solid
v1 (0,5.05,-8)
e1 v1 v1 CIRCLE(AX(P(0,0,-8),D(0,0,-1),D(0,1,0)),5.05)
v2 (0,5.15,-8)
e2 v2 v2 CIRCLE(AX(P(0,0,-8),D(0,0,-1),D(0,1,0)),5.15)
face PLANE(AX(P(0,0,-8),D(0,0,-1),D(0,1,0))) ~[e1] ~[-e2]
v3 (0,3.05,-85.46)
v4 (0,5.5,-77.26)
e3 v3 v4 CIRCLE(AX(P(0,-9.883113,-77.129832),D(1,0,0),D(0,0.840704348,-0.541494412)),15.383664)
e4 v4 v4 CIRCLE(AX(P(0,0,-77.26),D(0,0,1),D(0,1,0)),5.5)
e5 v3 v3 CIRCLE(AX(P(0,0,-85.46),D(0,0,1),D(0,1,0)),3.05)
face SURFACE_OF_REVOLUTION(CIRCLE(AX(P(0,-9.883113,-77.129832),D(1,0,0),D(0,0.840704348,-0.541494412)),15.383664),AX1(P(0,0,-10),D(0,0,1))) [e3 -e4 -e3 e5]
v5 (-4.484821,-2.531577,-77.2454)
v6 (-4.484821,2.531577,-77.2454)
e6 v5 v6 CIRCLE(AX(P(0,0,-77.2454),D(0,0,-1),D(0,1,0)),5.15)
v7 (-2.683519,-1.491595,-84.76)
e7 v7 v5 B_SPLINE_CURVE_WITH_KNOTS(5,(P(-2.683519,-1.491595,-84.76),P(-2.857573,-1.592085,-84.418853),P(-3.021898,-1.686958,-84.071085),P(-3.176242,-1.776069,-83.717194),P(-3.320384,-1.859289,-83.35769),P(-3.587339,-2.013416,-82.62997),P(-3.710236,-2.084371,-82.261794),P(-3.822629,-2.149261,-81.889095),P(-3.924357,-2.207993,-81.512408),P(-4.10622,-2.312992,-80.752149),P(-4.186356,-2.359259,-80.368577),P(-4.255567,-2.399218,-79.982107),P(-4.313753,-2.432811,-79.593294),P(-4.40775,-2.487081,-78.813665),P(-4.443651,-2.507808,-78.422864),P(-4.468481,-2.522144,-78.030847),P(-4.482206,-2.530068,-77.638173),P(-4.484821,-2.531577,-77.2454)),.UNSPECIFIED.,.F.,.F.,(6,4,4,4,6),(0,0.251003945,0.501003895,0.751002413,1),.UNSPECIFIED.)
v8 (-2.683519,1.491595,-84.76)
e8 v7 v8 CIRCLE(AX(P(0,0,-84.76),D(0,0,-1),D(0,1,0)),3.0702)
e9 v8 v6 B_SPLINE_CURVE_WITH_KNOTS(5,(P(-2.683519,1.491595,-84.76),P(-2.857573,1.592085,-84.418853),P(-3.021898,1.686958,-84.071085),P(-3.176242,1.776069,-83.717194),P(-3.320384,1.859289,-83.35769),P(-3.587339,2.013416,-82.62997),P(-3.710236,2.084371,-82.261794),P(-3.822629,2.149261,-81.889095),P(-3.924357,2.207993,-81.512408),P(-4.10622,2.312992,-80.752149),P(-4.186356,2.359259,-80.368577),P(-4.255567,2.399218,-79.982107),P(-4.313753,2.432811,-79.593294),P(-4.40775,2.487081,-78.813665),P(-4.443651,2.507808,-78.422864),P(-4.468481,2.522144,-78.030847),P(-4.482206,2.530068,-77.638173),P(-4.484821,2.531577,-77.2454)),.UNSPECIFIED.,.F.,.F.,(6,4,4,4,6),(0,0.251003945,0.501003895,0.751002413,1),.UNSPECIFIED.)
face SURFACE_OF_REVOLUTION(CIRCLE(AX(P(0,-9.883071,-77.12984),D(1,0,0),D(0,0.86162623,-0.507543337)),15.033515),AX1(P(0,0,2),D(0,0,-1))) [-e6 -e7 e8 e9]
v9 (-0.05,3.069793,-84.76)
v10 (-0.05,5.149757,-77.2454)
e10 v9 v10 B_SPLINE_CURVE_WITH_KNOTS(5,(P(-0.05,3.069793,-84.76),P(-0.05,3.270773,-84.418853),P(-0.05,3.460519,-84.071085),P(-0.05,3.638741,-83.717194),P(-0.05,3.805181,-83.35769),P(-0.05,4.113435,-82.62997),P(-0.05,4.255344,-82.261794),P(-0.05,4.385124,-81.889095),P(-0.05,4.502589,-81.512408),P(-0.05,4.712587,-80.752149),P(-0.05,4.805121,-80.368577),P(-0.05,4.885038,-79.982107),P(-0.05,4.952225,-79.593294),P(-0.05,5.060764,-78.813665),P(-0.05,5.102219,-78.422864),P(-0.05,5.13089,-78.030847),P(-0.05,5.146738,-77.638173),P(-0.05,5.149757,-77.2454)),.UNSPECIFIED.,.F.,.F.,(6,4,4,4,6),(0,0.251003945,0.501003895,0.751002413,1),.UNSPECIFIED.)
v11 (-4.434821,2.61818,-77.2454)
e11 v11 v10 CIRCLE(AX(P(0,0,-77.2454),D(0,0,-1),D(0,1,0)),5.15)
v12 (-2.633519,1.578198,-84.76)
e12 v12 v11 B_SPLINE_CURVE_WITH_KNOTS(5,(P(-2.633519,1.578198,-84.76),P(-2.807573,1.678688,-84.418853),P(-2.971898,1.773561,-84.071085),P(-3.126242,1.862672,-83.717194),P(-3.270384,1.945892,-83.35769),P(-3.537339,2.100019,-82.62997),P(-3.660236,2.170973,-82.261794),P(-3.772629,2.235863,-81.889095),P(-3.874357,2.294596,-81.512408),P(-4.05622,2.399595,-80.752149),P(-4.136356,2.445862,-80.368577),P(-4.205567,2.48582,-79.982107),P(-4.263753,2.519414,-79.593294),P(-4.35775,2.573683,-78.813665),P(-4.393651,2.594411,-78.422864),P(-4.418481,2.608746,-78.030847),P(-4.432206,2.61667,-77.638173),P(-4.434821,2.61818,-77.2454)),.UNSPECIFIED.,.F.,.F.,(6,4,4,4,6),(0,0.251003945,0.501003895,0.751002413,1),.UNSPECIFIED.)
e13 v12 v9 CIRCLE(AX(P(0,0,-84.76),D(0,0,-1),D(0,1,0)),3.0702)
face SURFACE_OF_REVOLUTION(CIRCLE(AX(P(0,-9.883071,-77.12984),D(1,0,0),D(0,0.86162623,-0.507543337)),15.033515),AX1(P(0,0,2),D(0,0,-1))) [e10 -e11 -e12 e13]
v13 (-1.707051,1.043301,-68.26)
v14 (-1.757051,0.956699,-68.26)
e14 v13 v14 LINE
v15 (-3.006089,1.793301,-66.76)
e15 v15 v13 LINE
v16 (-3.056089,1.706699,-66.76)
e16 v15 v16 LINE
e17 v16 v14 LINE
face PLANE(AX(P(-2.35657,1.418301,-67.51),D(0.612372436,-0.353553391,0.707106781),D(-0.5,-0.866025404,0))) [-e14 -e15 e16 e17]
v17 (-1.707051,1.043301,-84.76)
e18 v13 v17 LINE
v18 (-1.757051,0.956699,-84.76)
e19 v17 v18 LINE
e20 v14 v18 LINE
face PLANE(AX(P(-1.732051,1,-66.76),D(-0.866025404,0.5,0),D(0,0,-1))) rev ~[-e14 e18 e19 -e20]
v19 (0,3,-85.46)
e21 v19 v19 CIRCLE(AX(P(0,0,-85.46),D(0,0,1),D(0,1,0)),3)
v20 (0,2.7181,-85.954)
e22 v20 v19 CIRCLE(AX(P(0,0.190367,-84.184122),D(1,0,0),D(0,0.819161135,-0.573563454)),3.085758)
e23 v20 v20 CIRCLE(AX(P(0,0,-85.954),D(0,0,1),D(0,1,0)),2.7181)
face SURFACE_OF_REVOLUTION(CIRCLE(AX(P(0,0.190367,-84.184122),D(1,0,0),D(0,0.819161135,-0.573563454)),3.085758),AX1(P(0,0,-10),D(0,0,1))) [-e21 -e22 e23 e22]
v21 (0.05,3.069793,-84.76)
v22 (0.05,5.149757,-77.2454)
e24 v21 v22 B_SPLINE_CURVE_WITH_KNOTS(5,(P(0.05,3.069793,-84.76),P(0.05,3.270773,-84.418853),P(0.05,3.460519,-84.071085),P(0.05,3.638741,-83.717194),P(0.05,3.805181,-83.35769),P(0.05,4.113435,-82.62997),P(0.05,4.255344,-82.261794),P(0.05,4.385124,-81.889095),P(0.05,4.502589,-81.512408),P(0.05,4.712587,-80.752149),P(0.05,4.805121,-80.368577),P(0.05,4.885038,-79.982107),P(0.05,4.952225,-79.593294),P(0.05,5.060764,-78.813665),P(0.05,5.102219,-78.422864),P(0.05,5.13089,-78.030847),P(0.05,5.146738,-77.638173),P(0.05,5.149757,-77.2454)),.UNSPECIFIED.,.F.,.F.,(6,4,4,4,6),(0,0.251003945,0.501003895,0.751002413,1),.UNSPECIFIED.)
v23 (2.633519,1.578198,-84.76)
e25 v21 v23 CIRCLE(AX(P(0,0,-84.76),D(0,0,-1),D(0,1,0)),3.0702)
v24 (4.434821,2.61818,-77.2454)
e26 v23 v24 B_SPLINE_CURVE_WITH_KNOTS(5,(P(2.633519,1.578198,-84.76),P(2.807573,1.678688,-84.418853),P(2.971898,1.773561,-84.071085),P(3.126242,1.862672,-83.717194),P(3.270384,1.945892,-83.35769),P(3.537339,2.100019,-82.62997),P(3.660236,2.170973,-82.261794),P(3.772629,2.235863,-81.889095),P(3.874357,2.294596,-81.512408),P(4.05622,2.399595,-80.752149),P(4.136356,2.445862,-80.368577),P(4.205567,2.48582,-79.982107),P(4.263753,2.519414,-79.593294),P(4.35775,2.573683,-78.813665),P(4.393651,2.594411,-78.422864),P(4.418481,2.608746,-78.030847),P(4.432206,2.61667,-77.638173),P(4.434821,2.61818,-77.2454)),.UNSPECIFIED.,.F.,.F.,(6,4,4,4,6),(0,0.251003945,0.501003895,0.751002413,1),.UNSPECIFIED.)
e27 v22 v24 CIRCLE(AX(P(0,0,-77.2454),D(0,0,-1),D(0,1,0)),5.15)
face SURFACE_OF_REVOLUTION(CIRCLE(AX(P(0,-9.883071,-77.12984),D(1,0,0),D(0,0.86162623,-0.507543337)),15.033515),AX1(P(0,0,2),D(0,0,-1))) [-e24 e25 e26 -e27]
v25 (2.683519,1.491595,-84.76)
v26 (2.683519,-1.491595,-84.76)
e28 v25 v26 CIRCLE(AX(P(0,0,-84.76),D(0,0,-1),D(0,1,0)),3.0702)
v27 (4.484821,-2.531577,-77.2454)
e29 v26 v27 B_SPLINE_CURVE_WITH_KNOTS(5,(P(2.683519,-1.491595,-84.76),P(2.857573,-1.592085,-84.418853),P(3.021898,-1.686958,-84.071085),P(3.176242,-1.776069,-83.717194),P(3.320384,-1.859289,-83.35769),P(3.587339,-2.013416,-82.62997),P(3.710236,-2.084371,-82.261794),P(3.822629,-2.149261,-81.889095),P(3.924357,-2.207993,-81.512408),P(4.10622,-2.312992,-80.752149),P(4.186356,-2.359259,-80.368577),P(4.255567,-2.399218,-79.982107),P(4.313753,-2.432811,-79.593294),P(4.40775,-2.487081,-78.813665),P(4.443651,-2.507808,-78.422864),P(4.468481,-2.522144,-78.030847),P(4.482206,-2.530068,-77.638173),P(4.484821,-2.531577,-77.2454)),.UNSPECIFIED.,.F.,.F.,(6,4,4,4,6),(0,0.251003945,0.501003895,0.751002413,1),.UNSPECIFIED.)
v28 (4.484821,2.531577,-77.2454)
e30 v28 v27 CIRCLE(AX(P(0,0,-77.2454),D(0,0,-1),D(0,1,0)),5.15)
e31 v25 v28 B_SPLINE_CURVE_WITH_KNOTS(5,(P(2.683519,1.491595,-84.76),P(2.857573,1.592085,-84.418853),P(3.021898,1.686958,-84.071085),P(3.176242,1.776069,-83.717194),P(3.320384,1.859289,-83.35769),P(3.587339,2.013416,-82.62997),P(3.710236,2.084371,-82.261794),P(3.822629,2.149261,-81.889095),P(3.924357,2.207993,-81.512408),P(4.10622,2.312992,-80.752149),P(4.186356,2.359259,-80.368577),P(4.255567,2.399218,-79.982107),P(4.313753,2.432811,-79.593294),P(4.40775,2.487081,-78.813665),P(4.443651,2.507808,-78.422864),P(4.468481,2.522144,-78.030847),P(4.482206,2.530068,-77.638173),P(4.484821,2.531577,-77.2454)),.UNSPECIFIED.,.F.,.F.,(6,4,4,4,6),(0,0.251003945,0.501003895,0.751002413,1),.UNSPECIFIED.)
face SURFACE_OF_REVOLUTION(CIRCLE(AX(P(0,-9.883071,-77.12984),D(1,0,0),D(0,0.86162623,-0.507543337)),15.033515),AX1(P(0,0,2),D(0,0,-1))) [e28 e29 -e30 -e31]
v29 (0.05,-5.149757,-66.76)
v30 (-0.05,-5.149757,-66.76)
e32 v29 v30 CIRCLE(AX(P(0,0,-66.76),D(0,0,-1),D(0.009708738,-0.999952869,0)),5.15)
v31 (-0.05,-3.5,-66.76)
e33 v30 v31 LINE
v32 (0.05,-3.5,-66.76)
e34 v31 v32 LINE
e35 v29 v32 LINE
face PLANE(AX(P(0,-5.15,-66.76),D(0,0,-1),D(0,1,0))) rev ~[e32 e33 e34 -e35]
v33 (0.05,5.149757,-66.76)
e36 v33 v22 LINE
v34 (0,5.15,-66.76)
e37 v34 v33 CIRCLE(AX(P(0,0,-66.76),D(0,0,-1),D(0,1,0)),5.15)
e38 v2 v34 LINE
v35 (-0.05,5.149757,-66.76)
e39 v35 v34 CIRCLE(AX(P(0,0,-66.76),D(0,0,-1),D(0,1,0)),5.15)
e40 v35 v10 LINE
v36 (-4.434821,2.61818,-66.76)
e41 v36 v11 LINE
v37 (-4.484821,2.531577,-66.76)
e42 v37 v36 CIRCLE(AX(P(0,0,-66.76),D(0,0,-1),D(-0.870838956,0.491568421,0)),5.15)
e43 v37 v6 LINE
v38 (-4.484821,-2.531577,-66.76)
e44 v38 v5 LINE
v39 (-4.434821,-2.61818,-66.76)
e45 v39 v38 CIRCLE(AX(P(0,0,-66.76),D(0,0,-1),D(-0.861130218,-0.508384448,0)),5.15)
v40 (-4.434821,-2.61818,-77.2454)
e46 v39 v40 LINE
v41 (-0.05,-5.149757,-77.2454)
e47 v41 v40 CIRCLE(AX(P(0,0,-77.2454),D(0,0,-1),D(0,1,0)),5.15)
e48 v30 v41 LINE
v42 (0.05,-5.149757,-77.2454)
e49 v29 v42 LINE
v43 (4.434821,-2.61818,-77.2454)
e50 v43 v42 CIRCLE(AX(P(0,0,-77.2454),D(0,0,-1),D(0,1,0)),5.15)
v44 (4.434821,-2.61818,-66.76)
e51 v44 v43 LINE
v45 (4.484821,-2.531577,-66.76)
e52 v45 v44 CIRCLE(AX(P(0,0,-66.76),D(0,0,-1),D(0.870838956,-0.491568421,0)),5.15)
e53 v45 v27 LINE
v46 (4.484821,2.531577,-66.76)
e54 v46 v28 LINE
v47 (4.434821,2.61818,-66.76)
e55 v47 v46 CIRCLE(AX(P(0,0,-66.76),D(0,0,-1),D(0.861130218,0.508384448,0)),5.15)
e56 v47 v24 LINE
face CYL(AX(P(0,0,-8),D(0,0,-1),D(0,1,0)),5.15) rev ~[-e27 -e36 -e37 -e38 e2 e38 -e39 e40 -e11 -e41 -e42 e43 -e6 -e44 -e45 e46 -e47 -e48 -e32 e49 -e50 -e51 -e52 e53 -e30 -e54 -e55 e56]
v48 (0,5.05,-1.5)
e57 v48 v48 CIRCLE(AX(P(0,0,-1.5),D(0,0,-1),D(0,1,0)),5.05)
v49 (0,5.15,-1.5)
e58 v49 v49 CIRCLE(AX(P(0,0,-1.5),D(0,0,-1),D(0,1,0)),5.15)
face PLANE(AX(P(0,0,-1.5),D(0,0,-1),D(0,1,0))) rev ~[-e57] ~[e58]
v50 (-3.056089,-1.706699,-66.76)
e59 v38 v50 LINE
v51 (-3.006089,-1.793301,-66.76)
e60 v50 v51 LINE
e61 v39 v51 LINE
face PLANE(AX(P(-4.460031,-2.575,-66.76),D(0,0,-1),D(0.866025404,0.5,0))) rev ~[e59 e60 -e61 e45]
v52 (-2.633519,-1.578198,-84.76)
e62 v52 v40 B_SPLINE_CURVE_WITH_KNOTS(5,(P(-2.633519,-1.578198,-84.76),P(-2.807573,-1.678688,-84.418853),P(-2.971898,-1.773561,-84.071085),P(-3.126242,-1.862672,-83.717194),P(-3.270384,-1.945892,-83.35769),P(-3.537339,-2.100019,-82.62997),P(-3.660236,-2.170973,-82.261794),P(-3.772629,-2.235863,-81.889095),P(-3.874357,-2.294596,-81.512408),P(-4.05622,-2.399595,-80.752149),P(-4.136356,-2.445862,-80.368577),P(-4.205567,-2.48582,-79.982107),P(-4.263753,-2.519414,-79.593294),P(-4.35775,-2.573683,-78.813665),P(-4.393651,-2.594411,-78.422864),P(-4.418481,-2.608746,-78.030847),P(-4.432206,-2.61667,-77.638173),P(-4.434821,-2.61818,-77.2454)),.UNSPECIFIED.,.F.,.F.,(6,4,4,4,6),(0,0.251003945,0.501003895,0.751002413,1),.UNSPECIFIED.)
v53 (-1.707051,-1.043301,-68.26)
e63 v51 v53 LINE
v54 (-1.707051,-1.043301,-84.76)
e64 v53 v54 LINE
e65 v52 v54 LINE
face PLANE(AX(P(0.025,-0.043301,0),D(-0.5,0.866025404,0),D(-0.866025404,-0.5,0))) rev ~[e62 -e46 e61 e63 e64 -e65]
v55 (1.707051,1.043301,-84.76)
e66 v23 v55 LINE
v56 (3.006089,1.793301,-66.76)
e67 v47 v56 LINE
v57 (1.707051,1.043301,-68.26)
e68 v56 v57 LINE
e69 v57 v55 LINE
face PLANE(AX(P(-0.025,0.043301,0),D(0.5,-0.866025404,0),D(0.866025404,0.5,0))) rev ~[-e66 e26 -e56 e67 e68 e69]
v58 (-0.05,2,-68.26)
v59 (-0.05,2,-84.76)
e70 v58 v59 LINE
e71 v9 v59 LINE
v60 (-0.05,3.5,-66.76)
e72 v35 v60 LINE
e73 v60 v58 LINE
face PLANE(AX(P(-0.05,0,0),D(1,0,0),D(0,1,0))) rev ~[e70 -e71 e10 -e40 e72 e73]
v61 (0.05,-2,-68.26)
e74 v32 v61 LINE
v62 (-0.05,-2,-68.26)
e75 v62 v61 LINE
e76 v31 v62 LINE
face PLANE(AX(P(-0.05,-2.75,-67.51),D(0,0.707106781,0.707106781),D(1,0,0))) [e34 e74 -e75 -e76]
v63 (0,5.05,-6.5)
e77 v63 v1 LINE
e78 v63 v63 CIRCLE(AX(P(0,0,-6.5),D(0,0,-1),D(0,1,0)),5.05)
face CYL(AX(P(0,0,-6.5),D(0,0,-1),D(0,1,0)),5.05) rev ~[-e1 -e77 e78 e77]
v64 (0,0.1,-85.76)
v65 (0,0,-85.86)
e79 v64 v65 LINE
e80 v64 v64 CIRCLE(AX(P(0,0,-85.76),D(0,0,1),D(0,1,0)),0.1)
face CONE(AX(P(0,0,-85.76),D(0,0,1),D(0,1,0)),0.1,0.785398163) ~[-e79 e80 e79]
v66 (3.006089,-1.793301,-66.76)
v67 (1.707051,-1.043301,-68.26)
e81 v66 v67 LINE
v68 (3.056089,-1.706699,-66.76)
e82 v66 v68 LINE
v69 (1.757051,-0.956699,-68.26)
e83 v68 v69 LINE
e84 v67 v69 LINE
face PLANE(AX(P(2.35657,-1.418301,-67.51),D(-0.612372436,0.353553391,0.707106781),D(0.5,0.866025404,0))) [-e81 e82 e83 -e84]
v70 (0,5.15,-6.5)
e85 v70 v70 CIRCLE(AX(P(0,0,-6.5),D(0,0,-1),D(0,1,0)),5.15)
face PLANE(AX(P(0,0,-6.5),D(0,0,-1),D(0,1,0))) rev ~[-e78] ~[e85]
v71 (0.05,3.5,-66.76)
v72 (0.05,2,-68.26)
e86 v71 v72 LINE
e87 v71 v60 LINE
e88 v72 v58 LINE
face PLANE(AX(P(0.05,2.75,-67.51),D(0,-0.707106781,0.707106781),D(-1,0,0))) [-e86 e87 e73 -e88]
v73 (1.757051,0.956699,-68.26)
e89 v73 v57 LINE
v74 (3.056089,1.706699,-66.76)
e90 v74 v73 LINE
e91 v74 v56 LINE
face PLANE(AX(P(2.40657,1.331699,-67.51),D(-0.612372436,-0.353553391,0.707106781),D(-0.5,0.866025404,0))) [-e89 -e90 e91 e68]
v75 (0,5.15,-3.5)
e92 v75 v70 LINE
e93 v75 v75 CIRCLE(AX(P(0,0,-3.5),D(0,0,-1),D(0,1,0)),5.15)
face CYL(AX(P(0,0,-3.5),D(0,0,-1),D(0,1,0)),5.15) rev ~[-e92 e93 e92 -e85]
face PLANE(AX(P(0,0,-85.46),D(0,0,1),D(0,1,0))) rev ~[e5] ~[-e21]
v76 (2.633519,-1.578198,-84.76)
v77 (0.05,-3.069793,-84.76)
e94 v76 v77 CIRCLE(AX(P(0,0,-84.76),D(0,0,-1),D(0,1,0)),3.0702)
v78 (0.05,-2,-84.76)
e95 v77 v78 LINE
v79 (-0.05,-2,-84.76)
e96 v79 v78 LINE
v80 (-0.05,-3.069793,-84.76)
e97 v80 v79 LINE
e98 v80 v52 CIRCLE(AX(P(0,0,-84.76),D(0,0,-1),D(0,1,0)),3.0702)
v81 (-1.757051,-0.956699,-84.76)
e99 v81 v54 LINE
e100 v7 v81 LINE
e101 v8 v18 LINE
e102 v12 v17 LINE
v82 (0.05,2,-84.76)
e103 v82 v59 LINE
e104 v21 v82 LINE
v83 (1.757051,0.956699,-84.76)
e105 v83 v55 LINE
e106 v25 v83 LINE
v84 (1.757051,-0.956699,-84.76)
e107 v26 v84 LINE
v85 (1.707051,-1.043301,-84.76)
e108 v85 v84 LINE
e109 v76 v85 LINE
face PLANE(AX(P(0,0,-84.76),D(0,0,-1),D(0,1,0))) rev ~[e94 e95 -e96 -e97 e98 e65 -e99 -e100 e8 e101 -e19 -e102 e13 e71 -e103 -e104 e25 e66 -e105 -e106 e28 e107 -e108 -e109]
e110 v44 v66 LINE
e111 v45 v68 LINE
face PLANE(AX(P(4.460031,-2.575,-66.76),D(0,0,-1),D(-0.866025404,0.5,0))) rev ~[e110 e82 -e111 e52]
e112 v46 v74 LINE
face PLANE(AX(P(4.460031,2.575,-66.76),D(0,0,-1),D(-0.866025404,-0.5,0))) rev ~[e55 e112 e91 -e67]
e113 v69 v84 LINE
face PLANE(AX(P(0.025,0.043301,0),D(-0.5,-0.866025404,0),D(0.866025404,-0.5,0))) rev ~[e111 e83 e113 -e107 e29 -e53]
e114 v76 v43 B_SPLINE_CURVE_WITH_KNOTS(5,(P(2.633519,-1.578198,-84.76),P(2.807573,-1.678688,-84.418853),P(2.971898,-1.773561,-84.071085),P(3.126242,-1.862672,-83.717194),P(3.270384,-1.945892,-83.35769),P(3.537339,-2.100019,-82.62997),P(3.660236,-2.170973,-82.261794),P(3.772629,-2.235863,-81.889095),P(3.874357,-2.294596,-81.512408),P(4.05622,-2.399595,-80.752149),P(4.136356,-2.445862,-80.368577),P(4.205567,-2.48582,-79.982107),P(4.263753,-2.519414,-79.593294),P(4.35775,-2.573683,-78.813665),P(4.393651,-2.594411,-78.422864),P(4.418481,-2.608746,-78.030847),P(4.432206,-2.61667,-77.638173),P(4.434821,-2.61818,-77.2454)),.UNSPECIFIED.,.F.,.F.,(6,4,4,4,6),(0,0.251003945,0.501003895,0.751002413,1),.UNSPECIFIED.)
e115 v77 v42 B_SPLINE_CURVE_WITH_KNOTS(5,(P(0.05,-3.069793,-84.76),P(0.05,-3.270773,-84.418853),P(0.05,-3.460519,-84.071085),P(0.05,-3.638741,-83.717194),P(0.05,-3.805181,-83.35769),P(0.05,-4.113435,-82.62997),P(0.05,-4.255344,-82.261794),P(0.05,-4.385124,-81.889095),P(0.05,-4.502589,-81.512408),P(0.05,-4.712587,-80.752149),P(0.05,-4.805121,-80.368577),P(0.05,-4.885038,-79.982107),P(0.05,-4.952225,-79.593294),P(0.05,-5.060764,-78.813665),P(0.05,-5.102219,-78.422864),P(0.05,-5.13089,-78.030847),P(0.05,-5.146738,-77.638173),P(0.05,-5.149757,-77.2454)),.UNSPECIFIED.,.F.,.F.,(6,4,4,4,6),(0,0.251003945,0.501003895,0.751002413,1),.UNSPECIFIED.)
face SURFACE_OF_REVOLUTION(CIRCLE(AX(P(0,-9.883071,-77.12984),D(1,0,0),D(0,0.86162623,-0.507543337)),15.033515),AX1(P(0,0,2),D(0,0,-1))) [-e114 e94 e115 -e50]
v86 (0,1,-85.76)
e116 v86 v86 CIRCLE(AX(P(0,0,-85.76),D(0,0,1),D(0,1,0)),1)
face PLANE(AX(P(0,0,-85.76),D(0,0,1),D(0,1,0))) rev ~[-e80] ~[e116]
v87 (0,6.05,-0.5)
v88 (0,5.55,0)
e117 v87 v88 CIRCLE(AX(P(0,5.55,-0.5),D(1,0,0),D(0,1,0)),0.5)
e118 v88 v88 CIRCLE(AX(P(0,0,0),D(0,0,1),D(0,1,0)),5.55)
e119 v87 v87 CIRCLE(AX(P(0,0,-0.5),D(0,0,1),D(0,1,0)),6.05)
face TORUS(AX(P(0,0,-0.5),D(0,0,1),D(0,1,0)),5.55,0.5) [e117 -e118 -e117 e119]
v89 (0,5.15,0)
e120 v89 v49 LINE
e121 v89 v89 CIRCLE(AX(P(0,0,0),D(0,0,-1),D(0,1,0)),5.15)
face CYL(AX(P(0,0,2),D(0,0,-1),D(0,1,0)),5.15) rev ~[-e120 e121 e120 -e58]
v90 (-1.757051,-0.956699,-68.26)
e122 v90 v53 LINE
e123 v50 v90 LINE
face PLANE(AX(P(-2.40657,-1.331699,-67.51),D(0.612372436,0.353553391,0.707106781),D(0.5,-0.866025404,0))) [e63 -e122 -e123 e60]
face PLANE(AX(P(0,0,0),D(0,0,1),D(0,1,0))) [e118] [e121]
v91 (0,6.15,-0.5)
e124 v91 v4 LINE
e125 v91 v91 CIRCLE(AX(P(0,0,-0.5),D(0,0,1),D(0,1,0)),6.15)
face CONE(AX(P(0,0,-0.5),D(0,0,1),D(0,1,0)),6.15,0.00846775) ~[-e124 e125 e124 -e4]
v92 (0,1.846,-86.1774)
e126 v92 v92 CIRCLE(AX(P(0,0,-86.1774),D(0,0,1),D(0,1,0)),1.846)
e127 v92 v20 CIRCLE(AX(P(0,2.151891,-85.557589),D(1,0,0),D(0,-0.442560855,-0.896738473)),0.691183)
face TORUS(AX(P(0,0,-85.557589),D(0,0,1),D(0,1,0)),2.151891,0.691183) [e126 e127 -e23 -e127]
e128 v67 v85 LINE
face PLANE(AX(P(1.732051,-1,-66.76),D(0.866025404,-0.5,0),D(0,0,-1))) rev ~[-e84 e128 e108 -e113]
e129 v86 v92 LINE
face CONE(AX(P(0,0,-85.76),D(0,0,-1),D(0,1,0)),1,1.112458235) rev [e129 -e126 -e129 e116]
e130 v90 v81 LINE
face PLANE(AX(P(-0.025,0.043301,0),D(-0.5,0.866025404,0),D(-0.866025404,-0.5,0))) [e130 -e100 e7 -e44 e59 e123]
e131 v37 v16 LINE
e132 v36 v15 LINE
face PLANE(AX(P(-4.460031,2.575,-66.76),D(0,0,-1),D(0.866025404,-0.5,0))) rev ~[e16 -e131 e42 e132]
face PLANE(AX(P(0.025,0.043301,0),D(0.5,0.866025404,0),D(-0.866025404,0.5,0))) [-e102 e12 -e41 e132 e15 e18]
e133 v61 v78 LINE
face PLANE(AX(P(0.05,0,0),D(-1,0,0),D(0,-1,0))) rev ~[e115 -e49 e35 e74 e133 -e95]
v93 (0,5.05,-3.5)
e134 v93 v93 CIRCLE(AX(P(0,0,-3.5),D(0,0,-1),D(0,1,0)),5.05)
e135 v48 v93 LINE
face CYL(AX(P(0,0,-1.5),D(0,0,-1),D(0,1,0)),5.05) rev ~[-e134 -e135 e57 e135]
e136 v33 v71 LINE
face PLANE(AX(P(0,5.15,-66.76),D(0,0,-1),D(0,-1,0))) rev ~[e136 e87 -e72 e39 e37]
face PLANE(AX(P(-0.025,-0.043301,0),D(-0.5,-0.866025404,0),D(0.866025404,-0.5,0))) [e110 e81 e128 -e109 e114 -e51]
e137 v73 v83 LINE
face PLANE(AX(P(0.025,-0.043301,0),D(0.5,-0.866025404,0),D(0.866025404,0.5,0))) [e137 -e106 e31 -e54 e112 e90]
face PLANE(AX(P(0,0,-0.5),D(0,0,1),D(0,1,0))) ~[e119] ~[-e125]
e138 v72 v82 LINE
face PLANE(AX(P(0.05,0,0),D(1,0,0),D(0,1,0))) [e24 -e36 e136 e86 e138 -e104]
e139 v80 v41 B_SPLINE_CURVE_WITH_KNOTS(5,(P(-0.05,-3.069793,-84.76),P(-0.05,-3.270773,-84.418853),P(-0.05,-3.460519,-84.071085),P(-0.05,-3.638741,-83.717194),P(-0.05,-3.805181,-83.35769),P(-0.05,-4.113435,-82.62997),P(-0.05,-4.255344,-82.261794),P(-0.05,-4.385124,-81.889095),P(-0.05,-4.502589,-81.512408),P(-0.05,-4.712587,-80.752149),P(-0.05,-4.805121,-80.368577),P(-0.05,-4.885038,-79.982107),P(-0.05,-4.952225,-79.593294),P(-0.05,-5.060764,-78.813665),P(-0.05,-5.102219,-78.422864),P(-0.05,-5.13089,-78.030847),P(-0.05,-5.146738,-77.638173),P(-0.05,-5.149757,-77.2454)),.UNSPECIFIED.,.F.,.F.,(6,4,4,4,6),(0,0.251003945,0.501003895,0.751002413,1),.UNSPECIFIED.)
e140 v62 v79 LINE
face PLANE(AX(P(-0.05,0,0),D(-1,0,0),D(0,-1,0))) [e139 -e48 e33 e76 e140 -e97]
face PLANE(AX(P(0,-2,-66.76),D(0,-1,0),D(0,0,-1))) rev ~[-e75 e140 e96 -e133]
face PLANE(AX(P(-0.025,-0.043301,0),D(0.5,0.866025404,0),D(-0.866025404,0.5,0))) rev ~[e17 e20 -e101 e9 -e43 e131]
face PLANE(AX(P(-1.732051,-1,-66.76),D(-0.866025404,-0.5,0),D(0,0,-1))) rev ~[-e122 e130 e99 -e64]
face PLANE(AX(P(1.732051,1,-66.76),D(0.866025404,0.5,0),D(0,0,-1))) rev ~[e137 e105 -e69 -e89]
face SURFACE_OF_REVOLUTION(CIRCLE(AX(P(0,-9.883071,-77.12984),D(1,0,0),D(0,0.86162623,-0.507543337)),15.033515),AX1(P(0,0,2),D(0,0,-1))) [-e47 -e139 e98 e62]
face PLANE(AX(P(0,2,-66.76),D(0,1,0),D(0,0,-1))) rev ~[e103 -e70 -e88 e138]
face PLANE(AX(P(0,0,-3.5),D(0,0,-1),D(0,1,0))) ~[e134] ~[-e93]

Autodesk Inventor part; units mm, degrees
ref_plane "YZ Plane" through (0, 0, 0) normal (1, 0, 0) x (0, 1, 0)
ref_plane "XZ Plane" through (0, 0, 0) normal (0, 1, 0) x (-1, 0, 0)
ref_plane "XY Plane" through (0, 0, 0) normal (0, 0, 1) x (1, 0, 0)
sketch "Revolution Sketch" plane through (0, 0, 0) normal (1, 0, 0) x (0, 1, 0)
  line L0 (5.55, 0) -> (-5.55, 0) construction
  arc A0 (6.05, -0.5) -> (5.55, 0) centre (5.55, -0.5) ccw
  line L1 (6.05, -0.5) -> (6.15, -0.5)
  line L2 (6.15, -0.5) -> (5.5, -77.26)
  line L3 (5.5, -77.26) -> (0, -77.26) construction
  arc A1 (3.05, -85.46) -> (5.5, -77.26) centre (-9.8834, -77.1297) ccw
  line L4 (3.05, -85.46) -> (3, -85.46)
  arc A2 (1.4584, -85.76) -> (3, -85.46) centre (2.2, -85.46) ccw construction
  line L5 (1.4584, -85.76) -> (0.1, -85.76) construction
  line L6 (0.1, -85.76) -> (0, -85.86)
  line L7 (5.55, 0) -> (0, 0)
  line L8 (3, -85.46) -> (3, -86.26) construction
  line L9 (3, -86.26) -> (0, -86.26) construction
  line L10 (0, -86.26) -> (0, -85.86) construction
  line L11 (1, -85.76) -> (1.846, -86.1774)
  arc A3 (1.846, -86.1774) -> (3, -85.46) centre (2.2, -85.46) ccw construction
  line L12 (1, -85.76) -> (0.1, -85.76)
  line L13 (6.05, -0.5) -> (6.05, 0) construction
  line L14 (5.55, 0) -> (6.05, 0)
  line L15 (1, -85.76) -> (1, -86.26) construction
  line L16 (0, -85.86) -> (0, 0)
  line L17 (0, -103.8185) -> (0, 17.4239) projected
  arc A4 (2.4982, -86.26) -> (5.5, -77.26) centre (-9.8834, -77.1297) ccw construction
  arc A5 (2.7181, -85.954) -> (3, -85.46) centre (0.1927, -84.1856) ccw
  arc A6 (1.846, -86.1774) -> (2.7181, -85.954) centre (2.1519, -85.5575) ccw
  point P0 (0, -86.06)
  dimension "d0" = 6.15
  dimension "d1" = 5.5
  dimension "d2" = 86.26
  dimension "d3" = 0.1
  dimension "d4" = 0.5
  dimension "d5" = 9
  dimension "d6" = 0.05
  dimension "d8" = 0.5
  dimension "d9" = 1
  dimension "d10" = 3
  dimension "d11" = 0.8
  dimension "d12" = 0.1
  dimension "d13" = 0.1
revolve "Revolution" add sketch "Revolution Sketch" angle 360 about axis through (0, 0, -10) along (0, 0, 1)
sketch "Sketch3" plane through (0, 0, 0) normal (1, 0, 0) x (0, 1, 0)
  line L0 (5.15, 2) -> (5.15, -1.5)
  line L1 (5.15, -1.5) -> (5.05, -1.5)
  line L2 (5.05, -1.5) -> (5.05, -3.5)
  line L3 (5.05, -3.5) -> (5.15, -3.5)
  line L4 (5.15, -3.5) -> (5.15, -6.5)
  line L5 (5.15, -6.5) -> (5.05, -6.5)
  line L6 (5.05, -6.5) -> (5.05, -8)
  line L7 (5.05, -8) -> (5.15, -8)
  line L8 (5.15, -8) -> (5.15, -77.2454)
  arc A0 (3.05, -85.46) -> (5.5, -77.26) centre (-9.8834, -77.1297) ccw projected
  arc A1 (3.0702, -84.76) -> (5.15, -77.2454) centre (-9.8834, -77.1297) ccw
  line L9 (3.0702, -84.76) -> (0, -84.76)
  line L10 (-1, -85.76) -> (1, -85.76) construction
  line L11 (-5.55, 0) -> (5.55, 0) construction
  line L12 (5.15, 2) -> (0, 2)
  line L13 (0, 2) -> (0, -84.76)
  point P0 (0, 0)
  point P1 (0, -41.38)
  point P2 (0, 0)
  dimension "d16" = 1
  dimension "d17" = 5.15
  dimension "d18" = 0.1
  dimension "d19" = 1.5
  dimension "d20" = 2
  dimension "d21" = 3
  dimension "d22" = 1.5
  dimension "d23" = 0.3501
  dimension "d24" = 2
revolve "Revolution2" cut sketch "Sketch3" angle 360 about axis through (0, 0, 2) along (0, 0, -1)
sketch "Sketch4" plane through (0, 0, 0) normal (1, 0, 0) x (0, 1, 0)
  arc A0 (3.0702, -84.76) -> (5.15, -77.2454) centre (-9.8834, -77.1297) ccw projected
  line L0 (3.0702, -84.76) -> (-3.0702, -84.76) construction
  line L1 (3.0702, -84.76) -> (2, -84.76)
  line L2 (5.15, -8) -> (5.15, -77.2454) construction
  line L3 (5.15, -77.2454) -> (5.15, -66.76)
  line L4 (5.15, -66.76) -> (2, -66.76)
  line L5 (2, -66.76) -> (2, -84.76)
  point P0 (0, 0)
  point P1 (5.15, -72.0273)
  dimension "d26" = 18
  dimension "d27" = 2
extrude "Extrusion1" add sketch "Sketch4" along normal mid plane 0.1
pattern_circular "Circular Pattern1" count 6 over 360 about axis through (0, 0, -10) along (0, 0, 1) of "Extrusion1"
chamfer "Chamfer1" distance 1.5 angle 45 6 edges at (0, 2, -66.76) (1.7321, 1, -66.76) (1.7321, -1, -66.76) (-1.7321, 1, -66.76) (-1.7321, -1, -66.76) (0, -2, -66.76)
equation "\"d22\" = d19"
equation "\"d12\" = d13"
